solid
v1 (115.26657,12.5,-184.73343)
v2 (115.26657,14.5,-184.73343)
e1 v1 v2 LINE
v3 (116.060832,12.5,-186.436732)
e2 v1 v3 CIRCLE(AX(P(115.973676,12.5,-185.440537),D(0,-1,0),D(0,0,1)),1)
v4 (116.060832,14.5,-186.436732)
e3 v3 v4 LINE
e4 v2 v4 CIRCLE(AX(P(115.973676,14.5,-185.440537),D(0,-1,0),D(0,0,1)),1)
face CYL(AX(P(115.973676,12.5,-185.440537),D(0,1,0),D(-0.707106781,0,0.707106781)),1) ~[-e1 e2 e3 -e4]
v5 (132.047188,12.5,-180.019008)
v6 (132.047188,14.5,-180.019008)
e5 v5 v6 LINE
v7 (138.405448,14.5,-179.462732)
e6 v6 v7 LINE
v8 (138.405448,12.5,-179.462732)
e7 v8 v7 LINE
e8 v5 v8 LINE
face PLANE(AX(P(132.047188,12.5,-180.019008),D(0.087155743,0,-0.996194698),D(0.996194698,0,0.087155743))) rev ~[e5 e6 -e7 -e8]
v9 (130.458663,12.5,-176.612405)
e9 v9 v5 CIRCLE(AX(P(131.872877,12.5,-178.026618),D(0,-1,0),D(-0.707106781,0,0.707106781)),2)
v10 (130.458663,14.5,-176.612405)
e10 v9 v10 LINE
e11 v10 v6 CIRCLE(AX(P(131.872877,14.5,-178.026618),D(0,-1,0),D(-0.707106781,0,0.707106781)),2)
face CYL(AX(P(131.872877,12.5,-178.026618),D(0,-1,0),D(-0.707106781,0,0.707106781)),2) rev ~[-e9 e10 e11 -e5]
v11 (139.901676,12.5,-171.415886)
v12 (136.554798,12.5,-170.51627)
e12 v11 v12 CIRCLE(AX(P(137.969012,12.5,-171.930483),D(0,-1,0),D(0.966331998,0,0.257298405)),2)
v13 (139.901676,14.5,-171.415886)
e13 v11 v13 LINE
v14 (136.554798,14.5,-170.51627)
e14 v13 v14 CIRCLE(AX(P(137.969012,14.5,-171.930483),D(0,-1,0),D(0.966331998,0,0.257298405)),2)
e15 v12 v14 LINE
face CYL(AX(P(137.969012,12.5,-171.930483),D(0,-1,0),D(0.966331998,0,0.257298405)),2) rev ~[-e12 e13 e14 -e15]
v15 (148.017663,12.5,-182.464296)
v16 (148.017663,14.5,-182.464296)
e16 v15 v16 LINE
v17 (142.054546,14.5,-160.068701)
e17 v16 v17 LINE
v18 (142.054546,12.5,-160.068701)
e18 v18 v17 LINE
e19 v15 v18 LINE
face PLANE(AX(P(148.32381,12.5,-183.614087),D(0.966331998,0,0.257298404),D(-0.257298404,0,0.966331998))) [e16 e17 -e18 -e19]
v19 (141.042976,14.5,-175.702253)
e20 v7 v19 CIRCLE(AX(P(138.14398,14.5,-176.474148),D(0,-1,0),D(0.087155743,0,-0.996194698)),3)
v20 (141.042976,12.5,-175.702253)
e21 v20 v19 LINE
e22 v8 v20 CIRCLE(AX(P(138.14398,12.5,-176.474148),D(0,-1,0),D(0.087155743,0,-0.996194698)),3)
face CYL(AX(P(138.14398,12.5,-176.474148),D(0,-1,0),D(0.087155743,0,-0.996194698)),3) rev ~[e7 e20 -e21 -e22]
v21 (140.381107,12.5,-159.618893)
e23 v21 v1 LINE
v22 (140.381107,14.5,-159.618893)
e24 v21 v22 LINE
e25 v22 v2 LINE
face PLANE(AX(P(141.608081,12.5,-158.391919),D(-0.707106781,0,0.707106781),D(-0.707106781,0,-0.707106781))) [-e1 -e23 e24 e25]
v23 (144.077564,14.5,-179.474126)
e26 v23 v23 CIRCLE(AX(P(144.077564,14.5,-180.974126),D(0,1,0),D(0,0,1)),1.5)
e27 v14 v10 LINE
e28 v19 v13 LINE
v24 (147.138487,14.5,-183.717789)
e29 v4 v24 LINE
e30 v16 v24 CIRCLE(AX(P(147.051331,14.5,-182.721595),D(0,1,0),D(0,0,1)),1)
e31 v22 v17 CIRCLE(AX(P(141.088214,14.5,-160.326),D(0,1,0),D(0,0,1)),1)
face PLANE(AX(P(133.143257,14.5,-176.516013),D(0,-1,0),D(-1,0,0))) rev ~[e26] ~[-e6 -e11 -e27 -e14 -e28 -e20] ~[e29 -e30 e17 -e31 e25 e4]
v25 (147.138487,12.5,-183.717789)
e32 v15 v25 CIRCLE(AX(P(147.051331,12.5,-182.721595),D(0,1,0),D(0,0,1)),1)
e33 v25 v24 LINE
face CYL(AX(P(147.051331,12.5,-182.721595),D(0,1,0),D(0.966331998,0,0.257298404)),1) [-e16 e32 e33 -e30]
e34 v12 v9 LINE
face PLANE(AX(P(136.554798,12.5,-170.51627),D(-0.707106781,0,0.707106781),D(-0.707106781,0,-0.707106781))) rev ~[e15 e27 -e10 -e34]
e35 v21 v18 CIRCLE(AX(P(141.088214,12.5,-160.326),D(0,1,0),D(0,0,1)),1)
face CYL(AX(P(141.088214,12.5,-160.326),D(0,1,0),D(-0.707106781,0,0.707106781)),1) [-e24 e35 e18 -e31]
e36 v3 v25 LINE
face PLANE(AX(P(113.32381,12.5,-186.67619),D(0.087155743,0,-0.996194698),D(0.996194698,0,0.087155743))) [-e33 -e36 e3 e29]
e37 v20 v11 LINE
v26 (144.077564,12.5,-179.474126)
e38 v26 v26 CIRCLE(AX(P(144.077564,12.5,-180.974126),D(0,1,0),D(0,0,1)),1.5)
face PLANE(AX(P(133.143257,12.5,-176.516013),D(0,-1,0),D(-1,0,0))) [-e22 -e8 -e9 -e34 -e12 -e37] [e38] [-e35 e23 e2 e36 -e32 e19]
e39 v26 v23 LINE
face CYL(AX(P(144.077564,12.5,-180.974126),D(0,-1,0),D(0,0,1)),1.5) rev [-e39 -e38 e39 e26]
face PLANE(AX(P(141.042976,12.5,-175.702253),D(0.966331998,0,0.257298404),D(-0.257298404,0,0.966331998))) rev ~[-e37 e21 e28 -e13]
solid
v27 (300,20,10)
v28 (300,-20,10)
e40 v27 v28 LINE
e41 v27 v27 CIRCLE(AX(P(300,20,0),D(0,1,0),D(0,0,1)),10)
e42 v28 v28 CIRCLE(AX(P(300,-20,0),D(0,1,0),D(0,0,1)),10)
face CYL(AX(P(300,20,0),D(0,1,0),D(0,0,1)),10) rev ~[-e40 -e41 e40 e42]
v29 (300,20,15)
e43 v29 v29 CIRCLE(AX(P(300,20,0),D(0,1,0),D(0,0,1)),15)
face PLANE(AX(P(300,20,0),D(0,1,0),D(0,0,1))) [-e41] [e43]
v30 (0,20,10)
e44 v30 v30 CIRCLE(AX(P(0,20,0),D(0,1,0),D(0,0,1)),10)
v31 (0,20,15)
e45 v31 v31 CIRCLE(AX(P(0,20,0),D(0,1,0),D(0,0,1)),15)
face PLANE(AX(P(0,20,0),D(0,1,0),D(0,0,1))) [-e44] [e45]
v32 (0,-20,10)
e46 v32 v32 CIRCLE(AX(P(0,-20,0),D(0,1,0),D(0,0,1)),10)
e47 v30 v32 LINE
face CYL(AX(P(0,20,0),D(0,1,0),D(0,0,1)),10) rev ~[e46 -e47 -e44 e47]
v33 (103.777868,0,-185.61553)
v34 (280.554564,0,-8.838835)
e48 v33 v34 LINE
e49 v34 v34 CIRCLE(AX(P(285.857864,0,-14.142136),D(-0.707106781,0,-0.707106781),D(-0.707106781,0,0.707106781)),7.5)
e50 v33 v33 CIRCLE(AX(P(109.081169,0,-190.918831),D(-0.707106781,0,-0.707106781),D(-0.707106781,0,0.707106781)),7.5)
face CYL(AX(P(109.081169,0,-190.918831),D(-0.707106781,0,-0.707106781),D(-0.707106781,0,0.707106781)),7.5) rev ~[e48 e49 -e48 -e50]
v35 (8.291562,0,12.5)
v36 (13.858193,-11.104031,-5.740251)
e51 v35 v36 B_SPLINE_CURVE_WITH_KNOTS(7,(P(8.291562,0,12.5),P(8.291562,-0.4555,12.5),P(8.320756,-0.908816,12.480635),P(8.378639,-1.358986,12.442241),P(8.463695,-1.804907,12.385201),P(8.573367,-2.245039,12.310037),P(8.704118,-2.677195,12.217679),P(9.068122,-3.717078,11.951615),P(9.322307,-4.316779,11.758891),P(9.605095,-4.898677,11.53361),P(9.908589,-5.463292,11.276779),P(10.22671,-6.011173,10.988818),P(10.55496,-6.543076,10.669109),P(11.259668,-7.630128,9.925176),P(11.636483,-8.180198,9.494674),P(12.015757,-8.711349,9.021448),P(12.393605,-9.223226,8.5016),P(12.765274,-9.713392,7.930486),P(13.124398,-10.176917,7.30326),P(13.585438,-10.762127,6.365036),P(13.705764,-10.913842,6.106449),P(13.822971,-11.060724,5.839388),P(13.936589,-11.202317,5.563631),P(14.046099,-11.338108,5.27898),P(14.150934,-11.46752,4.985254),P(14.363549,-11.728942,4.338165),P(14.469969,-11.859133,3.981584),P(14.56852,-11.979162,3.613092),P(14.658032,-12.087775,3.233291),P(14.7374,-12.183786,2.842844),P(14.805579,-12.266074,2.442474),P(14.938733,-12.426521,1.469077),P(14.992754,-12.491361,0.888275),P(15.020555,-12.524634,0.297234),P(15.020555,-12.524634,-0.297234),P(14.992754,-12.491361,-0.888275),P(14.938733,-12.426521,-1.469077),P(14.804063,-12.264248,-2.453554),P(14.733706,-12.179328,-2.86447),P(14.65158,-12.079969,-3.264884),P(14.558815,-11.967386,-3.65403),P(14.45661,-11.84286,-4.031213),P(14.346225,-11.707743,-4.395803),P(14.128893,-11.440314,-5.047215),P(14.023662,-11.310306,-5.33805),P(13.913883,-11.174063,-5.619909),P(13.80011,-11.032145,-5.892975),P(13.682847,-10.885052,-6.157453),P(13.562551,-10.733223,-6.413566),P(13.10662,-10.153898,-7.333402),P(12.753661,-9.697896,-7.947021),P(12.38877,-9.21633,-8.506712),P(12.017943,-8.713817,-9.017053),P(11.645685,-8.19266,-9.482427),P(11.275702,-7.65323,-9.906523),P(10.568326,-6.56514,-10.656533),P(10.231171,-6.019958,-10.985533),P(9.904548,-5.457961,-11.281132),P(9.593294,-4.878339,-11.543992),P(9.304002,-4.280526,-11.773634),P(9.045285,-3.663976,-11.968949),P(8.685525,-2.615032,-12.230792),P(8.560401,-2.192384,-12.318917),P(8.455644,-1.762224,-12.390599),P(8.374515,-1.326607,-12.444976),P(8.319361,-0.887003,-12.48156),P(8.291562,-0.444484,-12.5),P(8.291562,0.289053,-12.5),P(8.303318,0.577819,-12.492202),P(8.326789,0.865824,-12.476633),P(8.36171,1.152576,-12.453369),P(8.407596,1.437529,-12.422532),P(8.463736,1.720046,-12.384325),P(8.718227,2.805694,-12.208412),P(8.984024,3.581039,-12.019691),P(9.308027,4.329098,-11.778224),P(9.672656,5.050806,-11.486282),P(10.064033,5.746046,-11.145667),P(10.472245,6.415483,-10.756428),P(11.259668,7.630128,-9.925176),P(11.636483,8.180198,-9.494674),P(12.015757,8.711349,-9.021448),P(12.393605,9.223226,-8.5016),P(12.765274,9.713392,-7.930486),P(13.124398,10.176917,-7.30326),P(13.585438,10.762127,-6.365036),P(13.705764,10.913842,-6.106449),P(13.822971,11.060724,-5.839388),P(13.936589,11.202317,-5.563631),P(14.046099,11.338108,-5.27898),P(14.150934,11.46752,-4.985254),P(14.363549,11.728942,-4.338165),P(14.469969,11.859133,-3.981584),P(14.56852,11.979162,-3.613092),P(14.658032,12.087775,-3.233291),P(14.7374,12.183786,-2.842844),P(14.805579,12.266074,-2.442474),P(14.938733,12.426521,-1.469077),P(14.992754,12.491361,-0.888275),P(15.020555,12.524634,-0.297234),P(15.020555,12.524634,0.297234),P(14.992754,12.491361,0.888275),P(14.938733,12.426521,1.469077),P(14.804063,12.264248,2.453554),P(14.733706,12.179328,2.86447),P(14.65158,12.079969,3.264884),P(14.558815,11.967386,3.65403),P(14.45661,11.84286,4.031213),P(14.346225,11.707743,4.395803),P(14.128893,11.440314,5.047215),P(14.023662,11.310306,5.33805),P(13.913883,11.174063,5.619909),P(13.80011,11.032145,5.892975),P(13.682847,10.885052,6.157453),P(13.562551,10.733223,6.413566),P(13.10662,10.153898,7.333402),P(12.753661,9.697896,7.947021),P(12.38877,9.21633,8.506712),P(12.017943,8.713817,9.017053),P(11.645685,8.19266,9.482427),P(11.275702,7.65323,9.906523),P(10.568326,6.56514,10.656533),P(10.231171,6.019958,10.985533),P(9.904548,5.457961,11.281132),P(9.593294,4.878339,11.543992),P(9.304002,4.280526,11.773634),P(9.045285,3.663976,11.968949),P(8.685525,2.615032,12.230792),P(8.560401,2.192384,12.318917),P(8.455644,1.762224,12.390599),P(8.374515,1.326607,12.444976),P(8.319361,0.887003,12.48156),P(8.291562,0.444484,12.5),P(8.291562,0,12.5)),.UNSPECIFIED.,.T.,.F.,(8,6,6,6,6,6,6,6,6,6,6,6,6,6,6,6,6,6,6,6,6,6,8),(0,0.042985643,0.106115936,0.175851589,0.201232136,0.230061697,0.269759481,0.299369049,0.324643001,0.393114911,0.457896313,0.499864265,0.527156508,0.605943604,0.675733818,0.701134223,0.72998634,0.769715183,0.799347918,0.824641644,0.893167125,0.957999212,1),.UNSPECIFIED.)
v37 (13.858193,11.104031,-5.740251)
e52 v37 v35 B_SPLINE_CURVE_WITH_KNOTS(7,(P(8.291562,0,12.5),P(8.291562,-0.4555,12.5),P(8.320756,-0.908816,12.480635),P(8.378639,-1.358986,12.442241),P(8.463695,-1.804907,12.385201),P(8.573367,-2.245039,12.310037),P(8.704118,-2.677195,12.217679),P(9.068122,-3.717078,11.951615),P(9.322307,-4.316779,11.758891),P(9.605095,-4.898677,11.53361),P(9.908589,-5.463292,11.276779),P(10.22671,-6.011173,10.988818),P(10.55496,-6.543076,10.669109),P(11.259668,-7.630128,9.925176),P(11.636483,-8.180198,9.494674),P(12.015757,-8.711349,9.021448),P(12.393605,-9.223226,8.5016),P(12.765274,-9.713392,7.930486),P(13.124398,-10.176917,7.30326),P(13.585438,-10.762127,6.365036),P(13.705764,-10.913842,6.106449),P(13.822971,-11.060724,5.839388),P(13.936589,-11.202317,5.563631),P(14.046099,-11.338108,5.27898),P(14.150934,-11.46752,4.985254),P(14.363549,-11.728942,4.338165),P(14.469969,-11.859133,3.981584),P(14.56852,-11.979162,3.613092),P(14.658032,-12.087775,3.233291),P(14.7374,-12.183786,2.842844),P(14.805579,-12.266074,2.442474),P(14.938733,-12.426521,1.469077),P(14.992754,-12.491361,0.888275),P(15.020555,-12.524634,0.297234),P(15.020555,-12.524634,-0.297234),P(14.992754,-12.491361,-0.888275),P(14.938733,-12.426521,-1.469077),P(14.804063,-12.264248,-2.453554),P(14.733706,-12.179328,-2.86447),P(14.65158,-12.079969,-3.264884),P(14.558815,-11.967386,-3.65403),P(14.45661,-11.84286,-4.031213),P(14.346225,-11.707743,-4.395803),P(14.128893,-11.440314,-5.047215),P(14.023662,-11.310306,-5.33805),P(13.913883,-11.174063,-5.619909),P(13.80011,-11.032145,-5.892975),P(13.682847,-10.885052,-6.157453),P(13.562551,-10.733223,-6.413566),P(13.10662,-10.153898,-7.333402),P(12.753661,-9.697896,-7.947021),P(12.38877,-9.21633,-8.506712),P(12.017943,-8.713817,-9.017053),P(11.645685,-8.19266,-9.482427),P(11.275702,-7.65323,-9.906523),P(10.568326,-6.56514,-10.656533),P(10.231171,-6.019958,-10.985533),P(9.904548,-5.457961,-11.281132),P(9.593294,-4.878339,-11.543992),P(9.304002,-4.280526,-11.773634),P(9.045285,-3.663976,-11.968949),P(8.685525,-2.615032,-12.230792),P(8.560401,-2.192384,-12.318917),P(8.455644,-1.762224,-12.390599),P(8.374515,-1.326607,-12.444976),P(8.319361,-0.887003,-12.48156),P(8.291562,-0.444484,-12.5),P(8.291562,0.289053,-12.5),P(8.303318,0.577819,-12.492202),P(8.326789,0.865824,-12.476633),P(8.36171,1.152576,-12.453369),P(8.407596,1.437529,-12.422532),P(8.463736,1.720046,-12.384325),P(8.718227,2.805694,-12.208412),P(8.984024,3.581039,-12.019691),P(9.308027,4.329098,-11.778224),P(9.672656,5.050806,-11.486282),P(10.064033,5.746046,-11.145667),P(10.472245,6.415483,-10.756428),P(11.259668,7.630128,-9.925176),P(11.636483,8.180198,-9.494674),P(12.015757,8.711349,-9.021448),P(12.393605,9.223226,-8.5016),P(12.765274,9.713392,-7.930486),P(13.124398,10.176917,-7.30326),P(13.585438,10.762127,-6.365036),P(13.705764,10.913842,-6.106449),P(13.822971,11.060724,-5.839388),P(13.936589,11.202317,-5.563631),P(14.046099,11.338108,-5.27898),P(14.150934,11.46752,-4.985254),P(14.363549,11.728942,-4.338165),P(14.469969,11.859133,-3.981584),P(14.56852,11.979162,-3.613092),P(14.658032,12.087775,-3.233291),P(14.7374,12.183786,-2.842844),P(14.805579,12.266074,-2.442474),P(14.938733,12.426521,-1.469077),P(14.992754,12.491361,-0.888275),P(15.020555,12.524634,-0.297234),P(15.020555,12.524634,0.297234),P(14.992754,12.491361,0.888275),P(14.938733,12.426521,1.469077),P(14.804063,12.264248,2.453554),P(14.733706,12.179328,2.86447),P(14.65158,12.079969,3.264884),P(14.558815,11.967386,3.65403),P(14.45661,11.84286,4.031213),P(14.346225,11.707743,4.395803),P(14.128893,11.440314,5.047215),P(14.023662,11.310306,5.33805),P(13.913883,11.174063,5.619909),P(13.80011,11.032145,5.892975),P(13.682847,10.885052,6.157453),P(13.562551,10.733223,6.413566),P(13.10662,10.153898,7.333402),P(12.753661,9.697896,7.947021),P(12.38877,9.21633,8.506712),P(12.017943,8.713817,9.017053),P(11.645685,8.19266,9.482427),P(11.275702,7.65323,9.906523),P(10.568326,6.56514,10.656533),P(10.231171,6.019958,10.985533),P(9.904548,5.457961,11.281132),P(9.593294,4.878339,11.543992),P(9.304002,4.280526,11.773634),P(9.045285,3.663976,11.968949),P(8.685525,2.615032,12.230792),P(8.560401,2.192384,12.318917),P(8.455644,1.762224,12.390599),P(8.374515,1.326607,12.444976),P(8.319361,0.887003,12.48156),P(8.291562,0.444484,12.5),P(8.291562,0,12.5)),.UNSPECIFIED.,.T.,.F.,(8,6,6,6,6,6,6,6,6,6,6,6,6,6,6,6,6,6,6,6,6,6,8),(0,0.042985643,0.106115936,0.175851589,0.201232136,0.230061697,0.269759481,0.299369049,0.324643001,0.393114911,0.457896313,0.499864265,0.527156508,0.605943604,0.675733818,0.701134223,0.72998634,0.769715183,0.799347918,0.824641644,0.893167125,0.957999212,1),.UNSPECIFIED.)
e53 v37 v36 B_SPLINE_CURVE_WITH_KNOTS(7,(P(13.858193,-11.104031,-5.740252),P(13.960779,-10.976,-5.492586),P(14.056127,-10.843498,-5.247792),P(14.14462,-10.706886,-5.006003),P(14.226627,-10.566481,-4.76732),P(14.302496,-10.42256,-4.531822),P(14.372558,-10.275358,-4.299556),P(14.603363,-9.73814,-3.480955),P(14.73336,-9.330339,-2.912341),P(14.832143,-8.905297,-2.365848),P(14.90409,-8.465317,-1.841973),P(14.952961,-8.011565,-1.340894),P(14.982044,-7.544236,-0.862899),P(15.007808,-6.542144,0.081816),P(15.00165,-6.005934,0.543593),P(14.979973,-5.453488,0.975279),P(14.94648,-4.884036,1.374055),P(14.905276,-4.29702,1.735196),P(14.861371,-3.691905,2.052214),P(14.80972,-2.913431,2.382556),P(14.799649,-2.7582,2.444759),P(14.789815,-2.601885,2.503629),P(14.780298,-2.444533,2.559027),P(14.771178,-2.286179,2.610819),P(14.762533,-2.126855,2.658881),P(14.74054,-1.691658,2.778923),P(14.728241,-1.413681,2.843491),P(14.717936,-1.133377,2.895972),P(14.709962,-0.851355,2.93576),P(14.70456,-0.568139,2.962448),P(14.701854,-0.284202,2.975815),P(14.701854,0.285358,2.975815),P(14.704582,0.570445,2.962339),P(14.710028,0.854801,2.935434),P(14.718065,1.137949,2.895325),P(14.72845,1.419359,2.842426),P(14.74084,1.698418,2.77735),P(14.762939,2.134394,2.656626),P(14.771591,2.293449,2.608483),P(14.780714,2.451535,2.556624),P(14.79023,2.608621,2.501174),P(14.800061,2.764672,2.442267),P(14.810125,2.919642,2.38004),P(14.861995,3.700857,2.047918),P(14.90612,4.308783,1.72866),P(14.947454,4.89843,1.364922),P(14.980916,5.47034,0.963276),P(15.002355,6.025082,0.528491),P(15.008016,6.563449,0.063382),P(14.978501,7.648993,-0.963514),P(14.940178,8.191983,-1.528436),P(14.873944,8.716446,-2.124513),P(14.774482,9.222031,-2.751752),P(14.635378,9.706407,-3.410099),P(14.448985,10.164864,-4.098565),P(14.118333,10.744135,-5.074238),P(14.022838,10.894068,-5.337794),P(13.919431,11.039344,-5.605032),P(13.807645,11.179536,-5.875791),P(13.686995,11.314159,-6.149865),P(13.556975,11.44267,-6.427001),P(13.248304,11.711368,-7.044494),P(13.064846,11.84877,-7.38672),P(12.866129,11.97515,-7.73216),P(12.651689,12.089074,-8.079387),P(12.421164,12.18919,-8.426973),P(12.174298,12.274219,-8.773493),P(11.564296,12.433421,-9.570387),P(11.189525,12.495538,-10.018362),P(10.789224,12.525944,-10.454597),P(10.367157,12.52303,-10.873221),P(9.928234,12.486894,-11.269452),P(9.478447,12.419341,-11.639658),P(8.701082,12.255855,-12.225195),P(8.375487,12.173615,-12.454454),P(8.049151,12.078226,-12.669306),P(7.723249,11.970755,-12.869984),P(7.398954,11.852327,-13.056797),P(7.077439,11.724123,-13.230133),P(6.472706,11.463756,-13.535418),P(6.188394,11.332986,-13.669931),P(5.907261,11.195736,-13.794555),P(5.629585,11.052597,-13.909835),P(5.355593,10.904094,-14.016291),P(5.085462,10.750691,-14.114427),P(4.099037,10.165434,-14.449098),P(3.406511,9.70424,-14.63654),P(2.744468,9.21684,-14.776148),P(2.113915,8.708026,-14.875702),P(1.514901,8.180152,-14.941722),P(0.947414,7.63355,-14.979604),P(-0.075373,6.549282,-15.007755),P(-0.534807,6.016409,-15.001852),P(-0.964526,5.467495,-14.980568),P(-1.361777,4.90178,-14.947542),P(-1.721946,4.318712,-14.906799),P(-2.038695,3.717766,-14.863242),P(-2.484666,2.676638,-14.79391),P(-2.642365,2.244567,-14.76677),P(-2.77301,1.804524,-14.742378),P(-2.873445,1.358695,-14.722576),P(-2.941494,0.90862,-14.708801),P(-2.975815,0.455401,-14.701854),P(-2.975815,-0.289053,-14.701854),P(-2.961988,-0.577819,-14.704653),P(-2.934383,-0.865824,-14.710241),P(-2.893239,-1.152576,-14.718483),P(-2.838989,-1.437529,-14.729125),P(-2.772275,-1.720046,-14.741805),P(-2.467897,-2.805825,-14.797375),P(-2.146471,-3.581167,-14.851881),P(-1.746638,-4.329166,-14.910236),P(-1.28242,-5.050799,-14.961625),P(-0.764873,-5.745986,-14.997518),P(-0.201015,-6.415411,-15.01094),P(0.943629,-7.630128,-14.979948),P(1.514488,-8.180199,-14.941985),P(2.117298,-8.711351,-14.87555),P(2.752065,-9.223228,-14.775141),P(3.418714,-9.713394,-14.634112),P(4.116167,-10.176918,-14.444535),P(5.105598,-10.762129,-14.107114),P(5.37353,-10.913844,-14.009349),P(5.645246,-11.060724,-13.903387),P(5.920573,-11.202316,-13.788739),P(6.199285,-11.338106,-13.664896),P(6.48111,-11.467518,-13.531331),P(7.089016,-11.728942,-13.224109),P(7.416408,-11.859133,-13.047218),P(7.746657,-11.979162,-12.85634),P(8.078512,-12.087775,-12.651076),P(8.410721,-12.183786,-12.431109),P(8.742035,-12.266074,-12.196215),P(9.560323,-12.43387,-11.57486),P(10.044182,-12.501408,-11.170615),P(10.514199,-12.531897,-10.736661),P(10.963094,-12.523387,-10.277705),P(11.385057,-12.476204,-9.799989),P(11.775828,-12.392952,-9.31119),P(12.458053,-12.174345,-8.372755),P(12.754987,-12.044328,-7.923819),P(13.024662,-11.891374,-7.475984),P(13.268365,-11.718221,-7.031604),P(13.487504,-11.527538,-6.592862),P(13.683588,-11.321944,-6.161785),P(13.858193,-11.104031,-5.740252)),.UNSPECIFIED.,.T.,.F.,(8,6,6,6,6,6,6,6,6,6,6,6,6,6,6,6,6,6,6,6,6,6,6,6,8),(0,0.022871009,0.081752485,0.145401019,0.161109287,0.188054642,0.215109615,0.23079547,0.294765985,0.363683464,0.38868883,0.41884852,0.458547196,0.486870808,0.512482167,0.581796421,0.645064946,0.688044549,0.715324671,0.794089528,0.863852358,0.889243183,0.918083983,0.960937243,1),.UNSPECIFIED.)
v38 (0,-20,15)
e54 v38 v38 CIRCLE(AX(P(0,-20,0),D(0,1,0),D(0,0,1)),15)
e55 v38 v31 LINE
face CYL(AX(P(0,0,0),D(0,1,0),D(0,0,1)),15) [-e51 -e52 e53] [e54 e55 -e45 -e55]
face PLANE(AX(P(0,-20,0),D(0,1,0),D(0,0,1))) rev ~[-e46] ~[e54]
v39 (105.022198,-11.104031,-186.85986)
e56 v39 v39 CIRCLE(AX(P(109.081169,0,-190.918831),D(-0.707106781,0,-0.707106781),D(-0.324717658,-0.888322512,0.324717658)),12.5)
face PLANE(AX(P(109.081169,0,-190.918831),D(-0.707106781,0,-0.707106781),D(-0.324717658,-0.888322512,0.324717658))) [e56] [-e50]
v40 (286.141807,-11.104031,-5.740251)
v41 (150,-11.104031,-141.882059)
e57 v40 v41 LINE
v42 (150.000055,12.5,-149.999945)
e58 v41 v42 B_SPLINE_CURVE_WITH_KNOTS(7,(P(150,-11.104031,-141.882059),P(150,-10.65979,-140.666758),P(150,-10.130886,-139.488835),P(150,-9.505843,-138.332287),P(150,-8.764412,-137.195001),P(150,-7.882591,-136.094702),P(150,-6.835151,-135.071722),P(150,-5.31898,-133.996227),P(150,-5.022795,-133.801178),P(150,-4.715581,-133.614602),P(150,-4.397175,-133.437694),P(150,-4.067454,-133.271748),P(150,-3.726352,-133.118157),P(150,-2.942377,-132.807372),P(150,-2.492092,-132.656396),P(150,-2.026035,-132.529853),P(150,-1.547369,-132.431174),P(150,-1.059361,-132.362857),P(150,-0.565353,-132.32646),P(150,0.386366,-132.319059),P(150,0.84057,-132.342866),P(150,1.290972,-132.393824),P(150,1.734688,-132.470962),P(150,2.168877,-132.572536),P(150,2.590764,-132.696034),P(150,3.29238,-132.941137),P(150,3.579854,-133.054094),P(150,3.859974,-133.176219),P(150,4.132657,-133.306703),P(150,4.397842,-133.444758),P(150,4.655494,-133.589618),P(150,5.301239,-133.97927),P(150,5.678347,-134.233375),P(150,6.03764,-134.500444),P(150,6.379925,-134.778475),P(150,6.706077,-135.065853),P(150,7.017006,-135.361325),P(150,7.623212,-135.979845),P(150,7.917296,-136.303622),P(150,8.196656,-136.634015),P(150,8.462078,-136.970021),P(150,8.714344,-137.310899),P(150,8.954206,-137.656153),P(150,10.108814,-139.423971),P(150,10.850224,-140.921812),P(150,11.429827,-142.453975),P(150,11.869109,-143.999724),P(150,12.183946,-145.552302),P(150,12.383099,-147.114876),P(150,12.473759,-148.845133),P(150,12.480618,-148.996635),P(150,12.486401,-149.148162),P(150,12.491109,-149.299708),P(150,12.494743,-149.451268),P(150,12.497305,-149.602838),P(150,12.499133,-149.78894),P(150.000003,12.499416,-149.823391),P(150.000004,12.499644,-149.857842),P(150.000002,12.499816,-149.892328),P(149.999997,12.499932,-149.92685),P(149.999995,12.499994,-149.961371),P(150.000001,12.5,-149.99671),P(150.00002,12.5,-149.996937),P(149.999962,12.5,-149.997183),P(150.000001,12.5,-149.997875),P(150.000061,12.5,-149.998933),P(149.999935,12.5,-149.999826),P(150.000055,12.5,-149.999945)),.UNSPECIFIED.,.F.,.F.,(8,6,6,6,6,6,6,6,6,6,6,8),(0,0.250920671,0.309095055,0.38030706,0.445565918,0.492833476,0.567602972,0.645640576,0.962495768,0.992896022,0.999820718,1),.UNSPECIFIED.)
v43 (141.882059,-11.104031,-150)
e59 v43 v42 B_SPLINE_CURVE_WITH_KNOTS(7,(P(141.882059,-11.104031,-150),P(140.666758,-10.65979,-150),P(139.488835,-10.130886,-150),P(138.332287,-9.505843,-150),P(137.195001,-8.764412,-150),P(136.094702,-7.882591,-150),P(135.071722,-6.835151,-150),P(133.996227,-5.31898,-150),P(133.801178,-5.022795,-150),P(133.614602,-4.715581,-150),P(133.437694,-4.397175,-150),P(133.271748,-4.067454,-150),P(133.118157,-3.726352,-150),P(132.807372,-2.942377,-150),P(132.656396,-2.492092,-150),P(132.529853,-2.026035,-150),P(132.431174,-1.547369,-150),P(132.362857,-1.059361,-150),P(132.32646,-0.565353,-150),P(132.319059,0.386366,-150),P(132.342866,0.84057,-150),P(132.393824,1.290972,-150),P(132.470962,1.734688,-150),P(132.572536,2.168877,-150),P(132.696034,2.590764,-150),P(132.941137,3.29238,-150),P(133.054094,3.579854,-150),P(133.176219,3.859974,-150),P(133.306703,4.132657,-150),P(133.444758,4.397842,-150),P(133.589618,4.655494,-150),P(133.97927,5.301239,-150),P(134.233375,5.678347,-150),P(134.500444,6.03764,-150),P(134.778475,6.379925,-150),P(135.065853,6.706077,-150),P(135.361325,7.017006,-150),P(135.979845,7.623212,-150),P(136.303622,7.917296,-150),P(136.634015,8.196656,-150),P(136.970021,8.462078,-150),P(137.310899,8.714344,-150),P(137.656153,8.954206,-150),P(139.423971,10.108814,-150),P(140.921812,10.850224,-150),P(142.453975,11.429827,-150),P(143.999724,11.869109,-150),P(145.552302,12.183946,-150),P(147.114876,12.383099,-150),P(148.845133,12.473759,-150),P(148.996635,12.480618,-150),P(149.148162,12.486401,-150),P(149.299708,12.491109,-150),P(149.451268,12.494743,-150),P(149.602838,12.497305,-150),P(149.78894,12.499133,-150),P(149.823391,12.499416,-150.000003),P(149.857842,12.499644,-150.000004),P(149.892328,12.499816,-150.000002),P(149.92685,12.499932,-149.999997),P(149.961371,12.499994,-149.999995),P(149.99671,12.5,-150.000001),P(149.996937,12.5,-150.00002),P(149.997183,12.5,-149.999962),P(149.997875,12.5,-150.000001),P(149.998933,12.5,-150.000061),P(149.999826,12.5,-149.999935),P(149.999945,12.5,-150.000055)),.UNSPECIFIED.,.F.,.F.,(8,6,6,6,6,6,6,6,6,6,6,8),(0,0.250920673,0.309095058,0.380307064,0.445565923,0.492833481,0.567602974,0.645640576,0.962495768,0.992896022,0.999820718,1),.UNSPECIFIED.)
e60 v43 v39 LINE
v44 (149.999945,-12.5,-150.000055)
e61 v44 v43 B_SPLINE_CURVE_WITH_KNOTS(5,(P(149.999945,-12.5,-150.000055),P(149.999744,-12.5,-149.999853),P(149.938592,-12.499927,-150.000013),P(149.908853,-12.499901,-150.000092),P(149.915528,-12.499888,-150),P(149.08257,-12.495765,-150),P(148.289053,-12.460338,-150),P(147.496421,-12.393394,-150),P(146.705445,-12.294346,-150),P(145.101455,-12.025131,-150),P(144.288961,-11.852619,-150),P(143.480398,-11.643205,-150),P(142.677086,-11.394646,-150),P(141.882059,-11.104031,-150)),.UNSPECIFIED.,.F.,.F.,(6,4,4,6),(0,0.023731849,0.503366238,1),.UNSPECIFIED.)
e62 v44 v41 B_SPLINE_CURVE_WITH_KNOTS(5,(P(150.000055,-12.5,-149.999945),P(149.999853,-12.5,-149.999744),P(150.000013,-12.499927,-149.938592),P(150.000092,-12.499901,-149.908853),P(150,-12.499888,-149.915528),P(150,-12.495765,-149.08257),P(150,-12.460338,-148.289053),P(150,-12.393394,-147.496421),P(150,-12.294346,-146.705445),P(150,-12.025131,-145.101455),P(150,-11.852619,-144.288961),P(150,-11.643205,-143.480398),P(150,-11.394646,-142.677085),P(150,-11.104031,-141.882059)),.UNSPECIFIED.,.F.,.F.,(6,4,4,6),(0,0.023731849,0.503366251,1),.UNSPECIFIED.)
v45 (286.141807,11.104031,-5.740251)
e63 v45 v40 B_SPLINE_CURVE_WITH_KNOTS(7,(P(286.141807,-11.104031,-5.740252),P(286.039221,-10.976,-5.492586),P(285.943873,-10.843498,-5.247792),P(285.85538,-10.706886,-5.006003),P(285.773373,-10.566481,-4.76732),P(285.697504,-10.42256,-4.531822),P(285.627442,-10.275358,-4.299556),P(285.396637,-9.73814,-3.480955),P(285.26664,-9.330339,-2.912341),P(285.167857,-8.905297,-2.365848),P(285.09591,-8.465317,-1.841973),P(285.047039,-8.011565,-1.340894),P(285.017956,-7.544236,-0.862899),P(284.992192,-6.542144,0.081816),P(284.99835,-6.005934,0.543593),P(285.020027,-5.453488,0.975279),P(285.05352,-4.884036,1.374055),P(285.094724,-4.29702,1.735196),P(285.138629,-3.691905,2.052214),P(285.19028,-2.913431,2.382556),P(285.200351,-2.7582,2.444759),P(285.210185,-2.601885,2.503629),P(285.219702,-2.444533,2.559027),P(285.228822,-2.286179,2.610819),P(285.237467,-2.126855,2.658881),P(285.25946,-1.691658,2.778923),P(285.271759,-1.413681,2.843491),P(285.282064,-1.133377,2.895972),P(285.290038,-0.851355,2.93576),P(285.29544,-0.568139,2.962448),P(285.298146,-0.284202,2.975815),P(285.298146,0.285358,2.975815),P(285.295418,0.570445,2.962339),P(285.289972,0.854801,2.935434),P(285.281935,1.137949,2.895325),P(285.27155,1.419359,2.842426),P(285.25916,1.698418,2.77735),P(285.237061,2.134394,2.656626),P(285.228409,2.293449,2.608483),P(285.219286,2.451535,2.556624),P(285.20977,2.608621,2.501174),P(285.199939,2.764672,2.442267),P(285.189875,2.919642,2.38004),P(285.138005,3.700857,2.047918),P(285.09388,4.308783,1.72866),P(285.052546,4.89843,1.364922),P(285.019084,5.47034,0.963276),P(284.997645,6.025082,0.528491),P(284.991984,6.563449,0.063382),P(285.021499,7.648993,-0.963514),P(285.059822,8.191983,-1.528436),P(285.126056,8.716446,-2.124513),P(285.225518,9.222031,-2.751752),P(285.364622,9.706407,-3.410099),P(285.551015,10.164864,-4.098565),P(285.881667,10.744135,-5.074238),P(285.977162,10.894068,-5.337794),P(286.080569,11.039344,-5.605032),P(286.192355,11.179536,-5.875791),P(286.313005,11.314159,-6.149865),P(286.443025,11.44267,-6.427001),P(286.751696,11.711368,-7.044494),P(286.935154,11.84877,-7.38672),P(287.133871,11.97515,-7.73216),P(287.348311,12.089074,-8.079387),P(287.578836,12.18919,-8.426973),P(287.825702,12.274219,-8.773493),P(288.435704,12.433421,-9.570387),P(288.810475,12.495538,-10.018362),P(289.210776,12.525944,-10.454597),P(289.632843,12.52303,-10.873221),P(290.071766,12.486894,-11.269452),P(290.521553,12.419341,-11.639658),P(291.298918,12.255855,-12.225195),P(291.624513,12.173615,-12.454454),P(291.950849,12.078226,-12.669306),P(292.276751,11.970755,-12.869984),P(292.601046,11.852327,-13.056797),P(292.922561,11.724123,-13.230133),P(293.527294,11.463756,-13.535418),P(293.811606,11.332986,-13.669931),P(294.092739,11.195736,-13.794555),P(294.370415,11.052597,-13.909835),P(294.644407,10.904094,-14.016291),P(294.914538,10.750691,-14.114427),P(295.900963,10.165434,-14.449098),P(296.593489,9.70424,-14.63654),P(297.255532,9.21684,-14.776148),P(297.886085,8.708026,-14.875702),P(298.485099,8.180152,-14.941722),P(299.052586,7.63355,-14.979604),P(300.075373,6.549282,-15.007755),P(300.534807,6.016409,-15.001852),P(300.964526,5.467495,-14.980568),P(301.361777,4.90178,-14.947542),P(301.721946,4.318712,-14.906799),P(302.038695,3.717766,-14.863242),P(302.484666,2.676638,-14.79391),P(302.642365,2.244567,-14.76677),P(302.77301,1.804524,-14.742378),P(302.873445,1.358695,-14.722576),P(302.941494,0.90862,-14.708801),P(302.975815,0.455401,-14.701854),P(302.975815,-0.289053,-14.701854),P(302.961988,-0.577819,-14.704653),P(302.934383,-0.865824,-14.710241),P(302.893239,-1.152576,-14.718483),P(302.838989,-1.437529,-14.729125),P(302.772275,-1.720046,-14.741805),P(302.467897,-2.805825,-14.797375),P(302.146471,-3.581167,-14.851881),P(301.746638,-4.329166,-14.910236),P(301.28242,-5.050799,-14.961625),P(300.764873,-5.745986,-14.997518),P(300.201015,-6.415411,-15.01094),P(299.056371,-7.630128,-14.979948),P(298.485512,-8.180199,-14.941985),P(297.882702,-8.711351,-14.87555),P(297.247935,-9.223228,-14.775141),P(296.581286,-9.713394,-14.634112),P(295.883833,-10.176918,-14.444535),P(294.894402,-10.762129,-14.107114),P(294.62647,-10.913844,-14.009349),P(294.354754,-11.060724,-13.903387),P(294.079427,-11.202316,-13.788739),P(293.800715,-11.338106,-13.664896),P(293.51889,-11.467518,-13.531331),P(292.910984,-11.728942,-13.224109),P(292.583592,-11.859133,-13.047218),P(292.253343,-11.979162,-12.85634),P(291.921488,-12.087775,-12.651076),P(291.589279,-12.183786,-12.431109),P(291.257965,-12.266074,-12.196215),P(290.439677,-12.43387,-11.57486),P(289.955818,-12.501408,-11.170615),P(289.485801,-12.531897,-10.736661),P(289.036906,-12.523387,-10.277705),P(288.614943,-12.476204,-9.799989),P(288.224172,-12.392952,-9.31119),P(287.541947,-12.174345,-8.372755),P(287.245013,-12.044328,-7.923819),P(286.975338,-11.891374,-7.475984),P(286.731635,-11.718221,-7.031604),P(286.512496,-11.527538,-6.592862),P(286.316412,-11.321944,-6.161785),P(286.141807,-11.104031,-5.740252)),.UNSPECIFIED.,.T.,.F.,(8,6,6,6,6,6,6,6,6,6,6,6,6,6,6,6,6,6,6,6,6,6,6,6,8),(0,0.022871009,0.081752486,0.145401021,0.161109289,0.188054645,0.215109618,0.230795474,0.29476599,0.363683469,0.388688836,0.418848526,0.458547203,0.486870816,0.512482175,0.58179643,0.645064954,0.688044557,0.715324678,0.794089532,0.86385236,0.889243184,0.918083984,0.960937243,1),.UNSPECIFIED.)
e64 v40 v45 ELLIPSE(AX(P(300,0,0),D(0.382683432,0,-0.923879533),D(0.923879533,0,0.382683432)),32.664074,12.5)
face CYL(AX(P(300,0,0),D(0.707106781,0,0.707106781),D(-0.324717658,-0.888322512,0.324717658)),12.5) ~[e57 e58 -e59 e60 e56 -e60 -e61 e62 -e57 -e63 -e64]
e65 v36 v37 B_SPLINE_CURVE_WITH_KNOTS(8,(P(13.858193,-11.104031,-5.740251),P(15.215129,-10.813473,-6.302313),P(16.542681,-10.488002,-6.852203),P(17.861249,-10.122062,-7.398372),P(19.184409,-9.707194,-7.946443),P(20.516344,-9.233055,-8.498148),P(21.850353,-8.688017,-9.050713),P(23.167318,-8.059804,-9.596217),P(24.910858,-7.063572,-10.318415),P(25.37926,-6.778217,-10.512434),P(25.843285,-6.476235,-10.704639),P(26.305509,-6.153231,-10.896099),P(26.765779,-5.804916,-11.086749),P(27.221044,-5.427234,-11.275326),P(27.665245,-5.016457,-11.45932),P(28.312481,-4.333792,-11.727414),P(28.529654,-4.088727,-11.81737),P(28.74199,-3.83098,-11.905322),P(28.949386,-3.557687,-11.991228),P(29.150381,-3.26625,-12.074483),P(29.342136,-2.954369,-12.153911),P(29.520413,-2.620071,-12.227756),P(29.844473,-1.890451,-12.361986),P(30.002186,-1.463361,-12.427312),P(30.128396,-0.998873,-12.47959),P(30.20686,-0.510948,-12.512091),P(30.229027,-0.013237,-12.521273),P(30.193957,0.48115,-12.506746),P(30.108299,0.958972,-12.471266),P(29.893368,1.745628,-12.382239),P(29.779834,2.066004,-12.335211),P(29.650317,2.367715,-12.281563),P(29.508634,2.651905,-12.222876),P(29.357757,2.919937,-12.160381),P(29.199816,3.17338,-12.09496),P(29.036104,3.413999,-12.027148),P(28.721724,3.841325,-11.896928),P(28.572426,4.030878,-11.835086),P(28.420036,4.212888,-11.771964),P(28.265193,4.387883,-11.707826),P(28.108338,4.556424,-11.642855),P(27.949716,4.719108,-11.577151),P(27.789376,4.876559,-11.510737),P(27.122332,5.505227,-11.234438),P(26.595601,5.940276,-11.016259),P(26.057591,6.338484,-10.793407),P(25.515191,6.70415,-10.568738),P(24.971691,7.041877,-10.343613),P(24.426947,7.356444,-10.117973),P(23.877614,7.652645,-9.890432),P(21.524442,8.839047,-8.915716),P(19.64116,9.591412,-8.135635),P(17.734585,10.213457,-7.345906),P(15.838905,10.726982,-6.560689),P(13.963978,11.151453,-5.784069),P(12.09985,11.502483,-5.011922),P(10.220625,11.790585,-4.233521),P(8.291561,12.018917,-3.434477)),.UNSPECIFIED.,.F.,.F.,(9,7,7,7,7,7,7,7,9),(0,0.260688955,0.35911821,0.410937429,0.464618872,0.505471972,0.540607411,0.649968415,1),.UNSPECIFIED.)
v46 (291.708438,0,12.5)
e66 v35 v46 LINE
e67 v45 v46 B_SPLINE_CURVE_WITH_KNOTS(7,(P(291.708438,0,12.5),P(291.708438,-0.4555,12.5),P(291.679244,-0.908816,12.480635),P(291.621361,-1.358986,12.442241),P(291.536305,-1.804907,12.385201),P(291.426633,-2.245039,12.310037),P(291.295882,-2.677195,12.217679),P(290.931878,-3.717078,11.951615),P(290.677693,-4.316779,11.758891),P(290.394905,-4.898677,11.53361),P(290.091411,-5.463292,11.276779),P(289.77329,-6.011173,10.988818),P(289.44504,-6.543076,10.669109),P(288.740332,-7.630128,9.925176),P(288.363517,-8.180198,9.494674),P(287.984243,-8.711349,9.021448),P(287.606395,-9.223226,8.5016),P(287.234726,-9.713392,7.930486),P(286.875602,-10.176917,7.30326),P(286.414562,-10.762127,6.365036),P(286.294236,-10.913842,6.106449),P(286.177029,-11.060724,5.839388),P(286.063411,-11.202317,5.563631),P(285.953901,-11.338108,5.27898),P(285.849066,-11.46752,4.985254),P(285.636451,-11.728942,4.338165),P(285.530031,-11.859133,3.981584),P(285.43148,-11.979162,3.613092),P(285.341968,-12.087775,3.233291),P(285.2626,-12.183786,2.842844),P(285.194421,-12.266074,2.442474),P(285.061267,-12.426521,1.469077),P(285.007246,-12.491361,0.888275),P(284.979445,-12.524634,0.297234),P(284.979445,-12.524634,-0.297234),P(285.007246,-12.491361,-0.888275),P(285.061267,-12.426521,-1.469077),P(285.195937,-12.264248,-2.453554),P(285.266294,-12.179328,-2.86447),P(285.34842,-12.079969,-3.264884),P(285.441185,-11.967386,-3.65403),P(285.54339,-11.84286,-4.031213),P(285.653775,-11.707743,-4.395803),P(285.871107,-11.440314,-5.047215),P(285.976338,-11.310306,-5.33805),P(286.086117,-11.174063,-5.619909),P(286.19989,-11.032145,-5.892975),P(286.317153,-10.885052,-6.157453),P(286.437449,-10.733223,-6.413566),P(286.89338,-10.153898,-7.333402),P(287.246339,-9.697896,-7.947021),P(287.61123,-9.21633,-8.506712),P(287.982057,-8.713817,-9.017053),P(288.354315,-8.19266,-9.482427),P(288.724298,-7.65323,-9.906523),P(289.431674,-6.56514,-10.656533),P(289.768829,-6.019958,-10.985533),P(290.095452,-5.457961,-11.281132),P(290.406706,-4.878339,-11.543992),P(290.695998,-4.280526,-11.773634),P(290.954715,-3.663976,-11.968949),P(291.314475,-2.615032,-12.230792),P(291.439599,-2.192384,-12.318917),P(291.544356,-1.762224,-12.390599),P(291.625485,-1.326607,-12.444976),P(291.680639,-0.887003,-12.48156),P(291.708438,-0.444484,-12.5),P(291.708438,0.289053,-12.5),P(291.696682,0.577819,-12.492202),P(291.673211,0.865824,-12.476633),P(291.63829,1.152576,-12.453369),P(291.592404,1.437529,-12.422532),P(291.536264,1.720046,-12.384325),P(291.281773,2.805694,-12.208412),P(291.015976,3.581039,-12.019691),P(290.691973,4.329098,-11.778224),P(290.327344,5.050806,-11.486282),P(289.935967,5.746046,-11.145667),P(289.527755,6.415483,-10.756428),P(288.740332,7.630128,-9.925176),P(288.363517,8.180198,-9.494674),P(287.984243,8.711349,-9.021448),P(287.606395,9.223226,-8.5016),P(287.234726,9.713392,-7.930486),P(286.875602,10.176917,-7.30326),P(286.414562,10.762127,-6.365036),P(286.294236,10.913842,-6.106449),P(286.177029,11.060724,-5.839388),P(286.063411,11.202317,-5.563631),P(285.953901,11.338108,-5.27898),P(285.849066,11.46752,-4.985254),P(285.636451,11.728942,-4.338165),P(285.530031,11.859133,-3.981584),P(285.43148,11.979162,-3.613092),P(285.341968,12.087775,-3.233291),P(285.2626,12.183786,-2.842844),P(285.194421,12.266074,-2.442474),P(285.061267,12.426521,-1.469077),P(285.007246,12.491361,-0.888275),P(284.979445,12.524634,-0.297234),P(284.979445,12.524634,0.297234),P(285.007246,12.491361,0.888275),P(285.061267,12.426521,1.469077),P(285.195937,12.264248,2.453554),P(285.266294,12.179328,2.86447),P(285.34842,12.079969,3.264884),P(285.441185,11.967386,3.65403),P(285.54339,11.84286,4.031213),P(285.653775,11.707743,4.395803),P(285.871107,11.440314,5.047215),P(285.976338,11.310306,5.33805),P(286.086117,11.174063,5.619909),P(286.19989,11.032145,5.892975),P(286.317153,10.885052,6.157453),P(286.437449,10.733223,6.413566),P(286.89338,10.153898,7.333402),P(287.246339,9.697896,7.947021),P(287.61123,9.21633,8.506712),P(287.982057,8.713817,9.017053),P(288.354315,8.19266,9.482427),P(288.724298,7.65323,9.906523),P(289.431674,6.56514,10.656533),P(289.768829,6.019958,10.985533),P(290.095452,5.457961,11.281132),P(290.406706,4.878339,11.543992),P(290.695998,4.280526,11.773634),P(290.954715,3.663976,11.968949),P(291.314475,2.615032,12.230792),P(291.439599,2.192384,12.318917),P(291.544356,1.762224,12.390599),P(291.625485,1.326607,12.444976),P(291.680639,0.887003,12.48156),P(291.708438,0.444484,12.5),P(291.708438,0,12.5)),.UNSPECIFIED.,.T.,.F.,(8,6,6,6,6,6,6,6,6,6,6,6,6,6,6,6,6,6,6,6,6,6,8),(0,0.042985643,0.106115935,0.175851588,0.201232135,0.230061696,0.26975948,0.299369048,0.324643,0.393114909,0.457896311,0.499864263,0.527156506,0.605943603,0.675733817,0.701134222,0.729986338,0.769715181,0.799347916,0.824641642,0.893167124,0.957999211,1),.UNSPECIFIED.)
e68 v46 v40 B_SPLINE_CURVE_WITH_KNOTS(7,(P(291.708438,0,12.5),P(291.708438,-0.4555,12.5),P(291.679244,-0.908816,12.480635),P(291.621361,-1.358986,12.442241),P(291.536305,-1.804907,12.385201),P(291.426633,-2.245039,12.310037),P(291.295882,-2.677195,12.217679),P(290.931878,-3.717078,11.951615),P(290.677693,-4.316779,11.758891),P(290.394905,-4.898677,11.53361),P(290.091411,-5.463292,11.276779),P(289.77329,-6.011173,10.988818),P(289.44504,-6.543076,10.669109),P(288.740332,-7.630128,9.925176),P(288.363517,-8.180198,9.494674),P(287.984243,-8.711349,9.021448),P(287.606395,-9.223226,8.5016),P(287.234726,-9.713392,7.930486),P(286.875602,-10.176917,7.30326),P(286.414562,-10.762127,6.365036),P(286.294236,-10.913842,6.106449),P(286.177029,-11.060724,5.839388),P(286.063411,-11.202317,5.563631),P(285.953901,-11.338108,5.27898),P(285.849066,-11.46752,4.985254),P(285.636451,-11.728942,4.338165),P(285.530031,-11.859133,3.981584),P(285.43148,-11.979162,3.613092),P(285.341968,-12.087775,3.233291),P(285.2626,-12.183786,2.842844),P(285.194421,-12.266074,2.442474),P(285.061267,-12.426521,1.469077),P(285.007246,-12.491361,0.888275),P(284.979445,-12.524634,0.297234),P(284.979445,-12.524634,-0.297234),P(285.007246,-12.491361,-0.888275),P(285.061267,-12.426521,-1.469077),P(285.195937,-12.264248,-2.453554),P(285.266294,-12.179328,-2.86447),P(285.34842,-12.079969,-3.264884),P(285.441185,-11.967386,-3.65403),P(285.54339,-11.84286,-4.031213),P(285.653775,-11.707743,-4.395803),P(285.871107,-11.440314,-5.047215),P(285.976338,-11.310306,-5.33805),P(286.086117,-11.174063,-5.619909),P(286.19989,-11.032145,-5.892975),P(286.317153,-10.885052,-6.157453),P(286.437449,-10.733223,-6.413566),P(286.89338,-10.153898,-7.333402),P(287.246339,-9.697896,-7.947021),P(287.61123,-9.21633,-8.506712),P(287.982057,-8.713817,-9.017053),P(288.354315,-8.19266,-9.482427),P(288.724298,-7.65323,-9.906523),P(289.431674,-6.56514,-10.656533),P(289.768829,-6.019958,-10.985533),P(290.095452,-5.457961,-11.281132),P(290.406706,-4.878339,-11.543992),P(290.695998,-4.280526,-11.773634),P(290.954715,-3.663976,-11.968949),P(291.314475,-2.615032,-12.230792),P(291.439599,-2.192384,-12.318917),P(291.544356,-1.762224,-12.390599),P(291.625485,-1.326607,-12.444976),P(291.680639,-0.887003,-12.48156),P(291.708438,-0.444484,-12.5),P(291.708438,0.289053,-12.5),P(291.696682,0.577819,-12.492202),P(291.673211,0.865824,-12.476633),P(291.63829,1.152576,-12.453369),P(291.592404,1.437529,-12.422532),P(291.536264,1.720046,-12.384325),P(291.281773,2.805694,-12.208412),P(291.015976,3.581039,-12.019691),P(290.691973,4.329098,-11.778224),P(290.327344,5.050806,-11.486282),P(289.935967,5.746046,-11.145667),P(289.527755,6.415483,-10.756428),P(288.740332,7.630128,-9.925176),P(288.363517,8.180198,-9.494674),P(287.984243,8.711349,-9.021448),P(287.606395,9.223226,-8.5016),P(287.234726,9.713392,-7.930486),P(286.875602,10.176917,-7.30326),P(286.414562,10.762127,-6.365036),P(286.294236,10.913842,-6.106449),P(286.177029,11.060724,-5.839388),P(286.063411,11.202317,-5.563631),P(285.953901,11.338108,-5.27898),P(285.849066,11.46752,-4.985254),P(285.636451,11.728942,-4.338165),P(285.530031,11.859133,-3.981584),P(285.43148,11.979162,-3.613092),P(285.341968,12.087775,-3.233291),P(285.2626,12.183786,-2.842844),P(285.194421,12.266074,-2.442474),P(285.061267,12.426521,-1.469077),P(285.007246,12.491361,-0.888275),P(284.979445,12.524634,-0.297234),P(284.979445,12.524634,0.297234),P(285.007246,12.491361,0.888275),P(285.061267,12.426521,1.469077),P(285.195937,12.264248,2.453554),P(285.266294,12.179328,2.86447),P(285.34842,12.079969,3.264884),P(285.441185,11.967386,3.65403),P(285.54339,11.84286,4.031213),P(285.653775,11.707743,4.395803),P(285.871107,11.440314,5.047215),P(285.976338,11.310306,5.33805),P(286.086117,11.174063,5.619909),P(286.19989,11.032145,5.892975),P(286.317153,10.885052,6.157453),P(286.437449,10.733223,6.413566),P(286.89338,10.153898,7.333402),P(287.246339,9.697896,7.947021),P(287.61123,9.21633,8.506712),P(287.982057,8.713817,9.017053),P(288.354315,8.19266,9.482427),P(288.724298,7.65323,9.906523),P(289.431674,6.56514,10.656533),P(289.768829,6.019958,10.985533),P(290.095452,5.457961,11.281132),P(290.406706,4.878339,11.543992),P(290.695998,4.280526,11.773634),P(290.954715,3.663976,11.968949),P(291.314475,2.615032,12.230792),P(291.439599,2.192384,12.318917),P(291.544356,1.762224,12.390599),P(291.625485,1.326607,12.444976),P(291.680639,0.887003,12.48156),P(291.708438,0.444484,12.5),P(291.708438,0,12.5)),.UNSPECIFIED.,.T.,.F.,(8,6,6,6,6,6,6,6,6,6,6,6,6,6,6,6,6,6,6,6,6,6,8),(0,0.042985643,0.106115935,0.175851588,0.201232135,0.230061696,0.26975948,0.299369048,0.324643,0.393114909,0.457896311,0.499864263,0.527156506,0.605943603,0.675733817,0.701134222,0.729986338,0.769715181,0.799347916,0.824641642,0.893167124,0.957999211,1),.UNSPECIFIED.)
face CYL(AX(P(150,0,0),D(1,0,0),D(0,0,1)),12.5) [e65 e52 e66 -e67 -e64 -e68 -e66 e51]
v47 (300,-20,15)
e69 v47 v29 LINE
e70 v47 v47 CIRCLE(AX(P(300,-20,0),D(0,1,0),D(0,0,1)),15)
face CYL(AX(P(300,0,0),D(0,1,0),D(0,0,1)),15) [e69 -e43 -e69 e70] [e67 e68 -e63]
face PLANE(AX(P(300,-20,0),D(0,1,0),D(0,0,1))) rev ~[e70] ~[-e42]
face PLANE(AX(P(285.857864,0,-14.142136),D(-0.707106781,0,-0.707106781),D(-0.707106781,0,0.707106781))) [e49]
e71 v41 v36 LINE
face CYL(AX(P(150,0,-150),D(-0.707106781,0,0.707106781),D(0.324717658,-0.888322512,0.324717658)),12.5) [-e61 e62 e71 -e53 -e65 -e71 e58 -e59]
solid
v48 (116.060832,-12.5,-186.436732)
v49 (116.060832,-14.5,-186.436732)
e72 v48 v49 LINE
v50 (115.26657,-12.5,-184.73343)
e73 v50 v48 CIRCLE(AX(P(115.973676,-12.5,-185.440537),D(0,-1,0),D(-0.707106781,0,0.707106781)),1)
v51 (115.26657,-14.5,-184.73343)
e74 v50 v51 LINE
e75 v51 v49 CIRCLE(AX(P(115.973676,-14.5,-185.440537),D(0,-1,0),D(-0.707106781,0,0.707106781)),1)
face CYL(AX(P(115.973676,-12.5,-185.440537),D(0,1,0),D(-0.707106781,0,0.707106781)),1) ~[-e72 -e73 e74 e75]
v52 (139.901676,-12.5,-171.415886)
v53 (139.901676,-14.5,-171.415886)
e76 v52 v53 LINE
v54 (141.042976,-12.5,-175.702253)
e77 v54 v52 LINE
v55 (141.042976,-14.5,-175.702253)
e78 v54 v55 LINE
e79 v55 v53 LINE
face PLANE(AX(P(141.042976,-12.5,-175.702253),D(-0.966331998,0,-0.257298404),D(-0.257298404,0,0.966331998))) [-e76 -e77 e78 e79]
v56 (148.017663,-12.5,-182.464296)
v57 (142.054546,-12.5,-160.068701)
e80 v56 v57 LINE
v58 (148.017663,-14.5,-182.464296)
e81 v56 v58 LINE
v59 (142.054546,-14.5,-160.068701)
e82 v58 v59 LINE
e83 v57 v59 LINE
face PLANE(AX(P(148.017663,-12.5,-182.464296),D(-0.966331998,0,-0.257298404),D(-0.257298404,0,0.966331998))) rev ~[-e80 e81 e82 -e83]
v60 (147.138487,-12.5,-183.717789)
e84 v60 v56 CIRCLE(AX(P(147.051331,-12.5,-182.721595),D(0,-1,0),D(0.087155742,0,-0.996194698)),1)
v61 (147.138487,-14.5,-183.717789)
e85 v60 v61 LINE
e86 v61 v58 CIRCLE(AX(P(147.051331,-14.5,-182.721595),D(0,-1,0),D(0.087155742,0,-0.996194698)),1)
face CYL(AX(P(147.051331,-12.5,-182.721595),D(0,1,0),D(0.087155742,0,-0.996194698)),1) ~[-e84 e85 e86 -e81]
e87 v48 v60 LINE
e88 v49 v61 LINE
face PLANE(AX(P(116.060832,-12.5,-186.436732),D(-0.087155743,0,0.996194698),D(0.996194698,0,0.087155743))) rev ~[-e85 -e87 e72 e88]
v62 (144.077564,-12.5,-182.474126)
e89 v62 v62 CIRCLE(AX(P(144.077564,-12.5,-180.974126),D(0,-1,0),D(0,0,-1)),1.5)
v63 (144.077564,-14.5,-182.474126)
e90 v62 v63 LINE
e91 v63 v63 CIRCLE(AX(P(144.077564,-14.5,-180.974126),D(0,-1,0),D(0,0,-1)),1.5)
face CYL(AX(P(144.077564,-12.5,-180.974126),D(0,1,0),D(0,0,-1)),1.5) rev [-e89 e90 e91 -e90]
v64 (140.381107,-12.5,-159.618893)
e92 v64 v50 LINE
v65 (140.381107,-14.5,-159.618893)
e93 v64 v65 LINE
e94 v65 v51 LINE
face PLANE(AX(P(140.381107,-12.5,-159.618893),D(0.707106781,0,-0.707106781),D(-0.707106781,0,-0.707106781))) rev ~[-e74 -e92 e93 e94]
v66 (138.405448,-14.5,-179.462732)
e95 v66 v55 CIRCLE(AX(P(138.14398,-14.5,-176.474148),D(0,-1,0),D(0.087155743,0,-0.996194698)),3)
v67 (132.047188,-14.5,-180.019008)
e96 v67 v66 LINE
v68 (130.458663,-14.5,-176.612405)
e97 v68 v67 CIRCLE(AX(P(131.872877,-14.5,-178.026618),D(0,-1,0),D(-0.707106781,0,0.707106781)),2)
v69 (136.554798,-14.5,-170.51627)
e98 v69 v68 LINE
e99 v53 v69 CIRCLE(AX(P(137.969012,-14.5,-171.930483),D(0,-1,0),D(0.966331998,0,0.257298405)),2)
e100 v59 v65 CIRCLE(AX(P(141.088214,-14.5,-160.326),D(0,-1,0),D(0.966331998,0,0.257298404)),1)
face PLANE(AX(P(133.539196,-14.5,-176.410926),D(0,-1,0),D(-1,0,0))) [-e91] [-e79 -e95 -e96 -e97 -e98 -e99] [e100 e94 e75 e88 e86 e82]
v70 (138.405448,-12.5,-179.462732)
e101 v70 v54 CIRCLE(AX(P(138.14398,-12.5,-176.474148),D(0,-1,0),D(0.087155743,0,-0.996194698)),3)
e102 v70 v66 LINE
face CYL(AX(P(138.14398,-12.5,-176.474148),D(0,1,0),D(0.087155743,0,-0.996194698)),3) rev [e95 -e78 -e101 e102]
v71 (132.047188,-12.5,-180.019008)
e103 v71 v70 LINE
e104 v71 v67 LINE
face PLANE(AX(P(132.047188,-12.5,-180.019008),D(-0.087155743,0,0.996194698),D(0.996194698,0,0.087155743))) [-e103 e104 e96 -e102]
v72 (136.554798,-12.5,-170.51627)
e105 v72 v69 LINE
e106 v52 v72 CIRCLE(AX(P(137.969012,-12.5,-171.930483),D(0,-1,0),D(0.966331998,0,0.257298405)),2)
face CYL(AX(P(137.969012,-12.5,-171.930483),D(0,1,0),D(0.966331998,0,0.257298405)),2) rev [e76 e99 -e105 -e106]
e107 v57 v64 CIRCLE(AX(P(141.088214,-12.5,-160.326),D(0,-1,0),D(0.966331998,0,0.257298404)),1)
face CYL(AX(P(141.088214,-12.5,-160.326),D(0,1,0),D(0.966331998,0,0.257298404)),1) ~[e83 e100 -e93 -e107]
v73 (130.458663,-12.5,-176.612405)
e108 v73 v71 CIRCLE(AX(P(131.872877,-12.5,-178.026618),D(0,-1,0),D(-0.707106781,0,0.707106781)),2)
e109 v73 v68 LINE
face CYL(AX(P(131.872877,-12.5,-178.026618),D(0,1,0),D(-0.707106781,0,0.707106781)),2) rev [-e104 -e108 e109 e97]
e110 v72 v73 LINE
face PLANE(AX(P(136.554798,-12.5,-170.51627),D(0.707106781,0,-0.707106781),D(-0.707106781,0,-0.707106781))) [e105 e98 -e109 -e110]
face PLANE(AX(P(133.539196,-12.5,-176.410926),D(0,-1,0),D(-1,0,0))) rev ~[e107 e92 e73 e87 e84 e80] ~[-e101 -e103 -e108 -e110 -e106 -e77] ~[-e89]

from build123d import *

# Parameters (mm, degrees)
CROQUIS1_R              = 15
SALIENTE_EXTRUIR1_DEPTH = 20
CROQUIS9_R              = 15
SALIENTE_EXTRUIR5_DEPTH = 20
CROQUIS10_W             = 300
CROQUIS10_H             = 12.5
CROQUIS12_R             = 12.5
SALIENTE_EXTRUIR6_DEPTH = 270
CROQUIS18_R             = 10
CORTAR_EXTRUIR1_DEPTH   = 376.137474949
CROQUIS19_R             = 1.5
SALIENTE_EXTRUIR7_DEPTH = 2
REDONDEO1_R             = 1
CROQUIS20_R             = 1.5
SALIENTE_EXTRUIR8_DEPTH = 2
CROQUIS21_R             = 7.5
CORTAR_EXTRUIR2_DEPTH   = 250


with BuildPart() as part:
    # Croquis1 → Saliente-Extruir1 (new, symmetric)
    with BuildSketch(Plane(origin=(0, 0, 0), x_dir=(1, 0, 0), z_dir=(0, 1, 0))):
        with Locations(Location((0, 0, 0), (0, 0, 270))):
            Circle(CROQUIS1_R)
    extrude(amount=SALIENTE_EXTRUIR1_DEPTH, both=True)



with BuildPart() as body_2:
    # Croquis9 → Saliente-Extruir5 (new, symmetric)
    with BuildSketch(Plane(origin=(0, 0, 0), x_dir=(1, 0, 0), z_dir=(0, 1, 0))):
        with Locations(Location((300, 0, 0), (0, 0, 270))):
            Circle(CROQUIS9_R)
    extrude(amount=SALIENTE_EXTRUIR5_DEPTH, both=True)


with BuildPart() as part_1:
    add(part.part)

    add(body_2.part)  # Revolución1 merges body 2
    # Croquis10 → Revolución1 (revolve)
    with BuildSketch(Plane.XY, mode=Mode.PRIVATE) as revoluci_n1_sk:
        with Locations((150, 6.25)):
            Rectangle(CROQUIS10_W, CROQUIS10_H)
    revolve(revoluci_n1_sk.sketch.rotate(Axis((0, 0, 0), (1, 0, 0)), 90), axis=Axis((0, 0, 0), (1, 0, 0)))

    # Croquis12 → Saliente-Extruir6 (add)
    with BuildSketch(Plane(origin=(150, 0, 150), x_dir=(-0.7071067811865456, 0, 0.7071067811865495), z_dir=(-0.7071067811865495, 0, -0.7071067811865456))):
        with Locations(Location((-212.132034356, 0, 0), (0, 0, 297.336794427))):
            Circle(CROQUIS12_R)
    extrude(amount=SALIENTE_EXTRUIR6_DEPTH)

    # Croquis17 → Revolución2 (revolve)
    with BuildSketch(Plane(origin=(0, 0, 0), x_dir=(1, 0, 0), z_dir=(0, 1, 0)), mode=Mode.PRIVATE) as revoluci_n2_sk:
        Polygon((-8.838834765, 8.838834765), (0, 0), (150, 150), (141.161165235, 158.838834765), align=None)
    revolve(revoluci_n2_sk.sketch.rotate(Axis((150, 0, -150), (-0.7071067811865455, 0, 0.7071067811865497)), 117.336794427), axis=Axis((150, 0, -150), (-0.7071067811865455, 0, 0.7071067811865497)))

    # Croquis18 → Cortar-Extruir1 (cut, through all)
    with BuildSketch(Plane(origin=(0, 20, 0), x_dir=(1, 0, 0), z_dir=(0, 1, 0))):
        with Locations(Location((0, 0, 0), (0, 0, 270))):
            Circle(CROQUIS18_R)
        with Locations(Location((300, 0, 0), (0, 0, 270))):
            Circle(CROQUIS18_R)
    extrude(amount=-CORTAR_EXTRUIR1_DEPTH, mode=Mode.SUBTRACT)

    # Croquis21 → Cortar-Extruir2 (cut)
    with BuildSketch(Plane(origin=(-40.91883092, 0, -40.91883092), x_dir=(-0.7071067811865456, 0, 0.7071067811865495), z_dir=(-0.7071067811865495, 0, -0.7071067811865456))):
        with Locations((-212.132034356, 0)):
            Circle(CROQUIS21_R)
    extrude(amount=-CORTAR_EXTRUIR2_DEPTH, mode=Mode.SUBTRACT)


with BuildPart() as body_2_2:
    # Croquis19 → Saliente-Extruir7 (new body)
    with BuildSketch(Plane(origin=(0, 12.5, 0), x_dir=(1, 0, 0), z_dir=(0, 1, 0))):
        Polygon((141.608081014, 158.391918986), (113.323809767, 186.676190233), (148.323809767, 183.61408701), align=None)
        with Locations(Location((144.077563746, 180.974125887, 0), (0, 0, 270))):
            Circle(CROQUIS19_R, mode=Mode.SUBTRACT)
        with BuildLine():
            Line((132.047188122, 180.019007697), (138.405447562, 179.462732076))
            ThreePointArc((138.405447562, 179.462732076), (140.600081534, 178.196810716), (141.042976329, 175.702252769))
            Line((141.042976329, 175.702252769), (139.90167578, 171.415886345))
            ThreePointArc((139.90167578, 171.415886345), (138.488170033, 169.999039468), (136.55479822, 170.516269591))
            Line((136.55479822, 170.516269591), (130.458663074, 176.612404738))
            ThreePointArc((130.458663074, 176.612404738), (130.060261062, 178.871854824), (132.047188122, 180.019007697))
        make_face(mode=Mode.SUBTRACT)
    extrude(amount=SALIENTE_EXTRUIR7_DEPTH)

    # Redondeo1
    redondeo1_edges = [body_2_2.edges().sort_by_distance(p)[0] for p in [
        (113.323809767, 13.5, -186.676190233),
        (148.323809767, 13.5, -183.61408701),
        (141.608081014, 13.5, -158.391918986),
    ]]
    fillet(redondeo1_edges, radius=REDONDEO1_R)


with BuildPart() as body_3:
    # Croquis20 → Saliente-Extruir8 (new body)
    with BuildSketch(Plane(origin=(0, -12.5, 0), x_dir=(-1, 0, 0), z_dir=(0, -1, 0))):
        with BuildLine():
            Line((-116.060832205, 186.436731798), (-147.13848683, 183.717789329))
            ThreePointArc((-147.13848683, 183.717789329), (-147.870031487, 183.295815543), (-148.017663086, 182.464296227))
            Line((-148.017663086, 182.464296227), (-142.05454598, 160.068701177))
            ThreePointArc((-142.05454598, 160.068701177), (-141.347793106, 159.360277738), (-140.3811072, 159.6188928))
            Line((-140.3811072, 159.6188928), (-115.266569681, 184.733430319))
            ThreePointArc((-115.266569681, 184.733430319), (-115.067368675, 185.863155362), (-116.060832205, 186.436731798))
        make_face()
        with Locations(Location((-144.077563746, 180.974125887, 0), (0, 0, 90))):
            Circle(CROQUIS20_R, mode=Mode.SUBTRACT)
        with BuildLine():
            ThreePointArc((-130.458663074, 176.612404738), (-130.060261062, 178.871854824), (-132.047188122, 180.019007697))
            Line((-132.047188122, 180.019007697), (-138.405447562, 179.462732076))
            ThreePointArc((-138.405447562, 179.462732076), (-140.600081534, 178.196810716), (-141.042976329, 175.702252769))
            Line((-141.042976329, 175.702252769), (-139.90167578, 171.415886345))
            ThreePointArc((-139.90167578, 171.415886345), (-138.488170033, 169.999039468), (-136.55479822, 170.516269591))
            Line((-136.55479822, 170.516269591), (-130.458663074, 176.612404738))
        make_face(mode=Mode.SUBTRACT)
    extrude(amount=SALIENTE_EXTRUIR8_DEPTH)


solid = Compound([part_1.part, body_2_2.part, body_3.part])
